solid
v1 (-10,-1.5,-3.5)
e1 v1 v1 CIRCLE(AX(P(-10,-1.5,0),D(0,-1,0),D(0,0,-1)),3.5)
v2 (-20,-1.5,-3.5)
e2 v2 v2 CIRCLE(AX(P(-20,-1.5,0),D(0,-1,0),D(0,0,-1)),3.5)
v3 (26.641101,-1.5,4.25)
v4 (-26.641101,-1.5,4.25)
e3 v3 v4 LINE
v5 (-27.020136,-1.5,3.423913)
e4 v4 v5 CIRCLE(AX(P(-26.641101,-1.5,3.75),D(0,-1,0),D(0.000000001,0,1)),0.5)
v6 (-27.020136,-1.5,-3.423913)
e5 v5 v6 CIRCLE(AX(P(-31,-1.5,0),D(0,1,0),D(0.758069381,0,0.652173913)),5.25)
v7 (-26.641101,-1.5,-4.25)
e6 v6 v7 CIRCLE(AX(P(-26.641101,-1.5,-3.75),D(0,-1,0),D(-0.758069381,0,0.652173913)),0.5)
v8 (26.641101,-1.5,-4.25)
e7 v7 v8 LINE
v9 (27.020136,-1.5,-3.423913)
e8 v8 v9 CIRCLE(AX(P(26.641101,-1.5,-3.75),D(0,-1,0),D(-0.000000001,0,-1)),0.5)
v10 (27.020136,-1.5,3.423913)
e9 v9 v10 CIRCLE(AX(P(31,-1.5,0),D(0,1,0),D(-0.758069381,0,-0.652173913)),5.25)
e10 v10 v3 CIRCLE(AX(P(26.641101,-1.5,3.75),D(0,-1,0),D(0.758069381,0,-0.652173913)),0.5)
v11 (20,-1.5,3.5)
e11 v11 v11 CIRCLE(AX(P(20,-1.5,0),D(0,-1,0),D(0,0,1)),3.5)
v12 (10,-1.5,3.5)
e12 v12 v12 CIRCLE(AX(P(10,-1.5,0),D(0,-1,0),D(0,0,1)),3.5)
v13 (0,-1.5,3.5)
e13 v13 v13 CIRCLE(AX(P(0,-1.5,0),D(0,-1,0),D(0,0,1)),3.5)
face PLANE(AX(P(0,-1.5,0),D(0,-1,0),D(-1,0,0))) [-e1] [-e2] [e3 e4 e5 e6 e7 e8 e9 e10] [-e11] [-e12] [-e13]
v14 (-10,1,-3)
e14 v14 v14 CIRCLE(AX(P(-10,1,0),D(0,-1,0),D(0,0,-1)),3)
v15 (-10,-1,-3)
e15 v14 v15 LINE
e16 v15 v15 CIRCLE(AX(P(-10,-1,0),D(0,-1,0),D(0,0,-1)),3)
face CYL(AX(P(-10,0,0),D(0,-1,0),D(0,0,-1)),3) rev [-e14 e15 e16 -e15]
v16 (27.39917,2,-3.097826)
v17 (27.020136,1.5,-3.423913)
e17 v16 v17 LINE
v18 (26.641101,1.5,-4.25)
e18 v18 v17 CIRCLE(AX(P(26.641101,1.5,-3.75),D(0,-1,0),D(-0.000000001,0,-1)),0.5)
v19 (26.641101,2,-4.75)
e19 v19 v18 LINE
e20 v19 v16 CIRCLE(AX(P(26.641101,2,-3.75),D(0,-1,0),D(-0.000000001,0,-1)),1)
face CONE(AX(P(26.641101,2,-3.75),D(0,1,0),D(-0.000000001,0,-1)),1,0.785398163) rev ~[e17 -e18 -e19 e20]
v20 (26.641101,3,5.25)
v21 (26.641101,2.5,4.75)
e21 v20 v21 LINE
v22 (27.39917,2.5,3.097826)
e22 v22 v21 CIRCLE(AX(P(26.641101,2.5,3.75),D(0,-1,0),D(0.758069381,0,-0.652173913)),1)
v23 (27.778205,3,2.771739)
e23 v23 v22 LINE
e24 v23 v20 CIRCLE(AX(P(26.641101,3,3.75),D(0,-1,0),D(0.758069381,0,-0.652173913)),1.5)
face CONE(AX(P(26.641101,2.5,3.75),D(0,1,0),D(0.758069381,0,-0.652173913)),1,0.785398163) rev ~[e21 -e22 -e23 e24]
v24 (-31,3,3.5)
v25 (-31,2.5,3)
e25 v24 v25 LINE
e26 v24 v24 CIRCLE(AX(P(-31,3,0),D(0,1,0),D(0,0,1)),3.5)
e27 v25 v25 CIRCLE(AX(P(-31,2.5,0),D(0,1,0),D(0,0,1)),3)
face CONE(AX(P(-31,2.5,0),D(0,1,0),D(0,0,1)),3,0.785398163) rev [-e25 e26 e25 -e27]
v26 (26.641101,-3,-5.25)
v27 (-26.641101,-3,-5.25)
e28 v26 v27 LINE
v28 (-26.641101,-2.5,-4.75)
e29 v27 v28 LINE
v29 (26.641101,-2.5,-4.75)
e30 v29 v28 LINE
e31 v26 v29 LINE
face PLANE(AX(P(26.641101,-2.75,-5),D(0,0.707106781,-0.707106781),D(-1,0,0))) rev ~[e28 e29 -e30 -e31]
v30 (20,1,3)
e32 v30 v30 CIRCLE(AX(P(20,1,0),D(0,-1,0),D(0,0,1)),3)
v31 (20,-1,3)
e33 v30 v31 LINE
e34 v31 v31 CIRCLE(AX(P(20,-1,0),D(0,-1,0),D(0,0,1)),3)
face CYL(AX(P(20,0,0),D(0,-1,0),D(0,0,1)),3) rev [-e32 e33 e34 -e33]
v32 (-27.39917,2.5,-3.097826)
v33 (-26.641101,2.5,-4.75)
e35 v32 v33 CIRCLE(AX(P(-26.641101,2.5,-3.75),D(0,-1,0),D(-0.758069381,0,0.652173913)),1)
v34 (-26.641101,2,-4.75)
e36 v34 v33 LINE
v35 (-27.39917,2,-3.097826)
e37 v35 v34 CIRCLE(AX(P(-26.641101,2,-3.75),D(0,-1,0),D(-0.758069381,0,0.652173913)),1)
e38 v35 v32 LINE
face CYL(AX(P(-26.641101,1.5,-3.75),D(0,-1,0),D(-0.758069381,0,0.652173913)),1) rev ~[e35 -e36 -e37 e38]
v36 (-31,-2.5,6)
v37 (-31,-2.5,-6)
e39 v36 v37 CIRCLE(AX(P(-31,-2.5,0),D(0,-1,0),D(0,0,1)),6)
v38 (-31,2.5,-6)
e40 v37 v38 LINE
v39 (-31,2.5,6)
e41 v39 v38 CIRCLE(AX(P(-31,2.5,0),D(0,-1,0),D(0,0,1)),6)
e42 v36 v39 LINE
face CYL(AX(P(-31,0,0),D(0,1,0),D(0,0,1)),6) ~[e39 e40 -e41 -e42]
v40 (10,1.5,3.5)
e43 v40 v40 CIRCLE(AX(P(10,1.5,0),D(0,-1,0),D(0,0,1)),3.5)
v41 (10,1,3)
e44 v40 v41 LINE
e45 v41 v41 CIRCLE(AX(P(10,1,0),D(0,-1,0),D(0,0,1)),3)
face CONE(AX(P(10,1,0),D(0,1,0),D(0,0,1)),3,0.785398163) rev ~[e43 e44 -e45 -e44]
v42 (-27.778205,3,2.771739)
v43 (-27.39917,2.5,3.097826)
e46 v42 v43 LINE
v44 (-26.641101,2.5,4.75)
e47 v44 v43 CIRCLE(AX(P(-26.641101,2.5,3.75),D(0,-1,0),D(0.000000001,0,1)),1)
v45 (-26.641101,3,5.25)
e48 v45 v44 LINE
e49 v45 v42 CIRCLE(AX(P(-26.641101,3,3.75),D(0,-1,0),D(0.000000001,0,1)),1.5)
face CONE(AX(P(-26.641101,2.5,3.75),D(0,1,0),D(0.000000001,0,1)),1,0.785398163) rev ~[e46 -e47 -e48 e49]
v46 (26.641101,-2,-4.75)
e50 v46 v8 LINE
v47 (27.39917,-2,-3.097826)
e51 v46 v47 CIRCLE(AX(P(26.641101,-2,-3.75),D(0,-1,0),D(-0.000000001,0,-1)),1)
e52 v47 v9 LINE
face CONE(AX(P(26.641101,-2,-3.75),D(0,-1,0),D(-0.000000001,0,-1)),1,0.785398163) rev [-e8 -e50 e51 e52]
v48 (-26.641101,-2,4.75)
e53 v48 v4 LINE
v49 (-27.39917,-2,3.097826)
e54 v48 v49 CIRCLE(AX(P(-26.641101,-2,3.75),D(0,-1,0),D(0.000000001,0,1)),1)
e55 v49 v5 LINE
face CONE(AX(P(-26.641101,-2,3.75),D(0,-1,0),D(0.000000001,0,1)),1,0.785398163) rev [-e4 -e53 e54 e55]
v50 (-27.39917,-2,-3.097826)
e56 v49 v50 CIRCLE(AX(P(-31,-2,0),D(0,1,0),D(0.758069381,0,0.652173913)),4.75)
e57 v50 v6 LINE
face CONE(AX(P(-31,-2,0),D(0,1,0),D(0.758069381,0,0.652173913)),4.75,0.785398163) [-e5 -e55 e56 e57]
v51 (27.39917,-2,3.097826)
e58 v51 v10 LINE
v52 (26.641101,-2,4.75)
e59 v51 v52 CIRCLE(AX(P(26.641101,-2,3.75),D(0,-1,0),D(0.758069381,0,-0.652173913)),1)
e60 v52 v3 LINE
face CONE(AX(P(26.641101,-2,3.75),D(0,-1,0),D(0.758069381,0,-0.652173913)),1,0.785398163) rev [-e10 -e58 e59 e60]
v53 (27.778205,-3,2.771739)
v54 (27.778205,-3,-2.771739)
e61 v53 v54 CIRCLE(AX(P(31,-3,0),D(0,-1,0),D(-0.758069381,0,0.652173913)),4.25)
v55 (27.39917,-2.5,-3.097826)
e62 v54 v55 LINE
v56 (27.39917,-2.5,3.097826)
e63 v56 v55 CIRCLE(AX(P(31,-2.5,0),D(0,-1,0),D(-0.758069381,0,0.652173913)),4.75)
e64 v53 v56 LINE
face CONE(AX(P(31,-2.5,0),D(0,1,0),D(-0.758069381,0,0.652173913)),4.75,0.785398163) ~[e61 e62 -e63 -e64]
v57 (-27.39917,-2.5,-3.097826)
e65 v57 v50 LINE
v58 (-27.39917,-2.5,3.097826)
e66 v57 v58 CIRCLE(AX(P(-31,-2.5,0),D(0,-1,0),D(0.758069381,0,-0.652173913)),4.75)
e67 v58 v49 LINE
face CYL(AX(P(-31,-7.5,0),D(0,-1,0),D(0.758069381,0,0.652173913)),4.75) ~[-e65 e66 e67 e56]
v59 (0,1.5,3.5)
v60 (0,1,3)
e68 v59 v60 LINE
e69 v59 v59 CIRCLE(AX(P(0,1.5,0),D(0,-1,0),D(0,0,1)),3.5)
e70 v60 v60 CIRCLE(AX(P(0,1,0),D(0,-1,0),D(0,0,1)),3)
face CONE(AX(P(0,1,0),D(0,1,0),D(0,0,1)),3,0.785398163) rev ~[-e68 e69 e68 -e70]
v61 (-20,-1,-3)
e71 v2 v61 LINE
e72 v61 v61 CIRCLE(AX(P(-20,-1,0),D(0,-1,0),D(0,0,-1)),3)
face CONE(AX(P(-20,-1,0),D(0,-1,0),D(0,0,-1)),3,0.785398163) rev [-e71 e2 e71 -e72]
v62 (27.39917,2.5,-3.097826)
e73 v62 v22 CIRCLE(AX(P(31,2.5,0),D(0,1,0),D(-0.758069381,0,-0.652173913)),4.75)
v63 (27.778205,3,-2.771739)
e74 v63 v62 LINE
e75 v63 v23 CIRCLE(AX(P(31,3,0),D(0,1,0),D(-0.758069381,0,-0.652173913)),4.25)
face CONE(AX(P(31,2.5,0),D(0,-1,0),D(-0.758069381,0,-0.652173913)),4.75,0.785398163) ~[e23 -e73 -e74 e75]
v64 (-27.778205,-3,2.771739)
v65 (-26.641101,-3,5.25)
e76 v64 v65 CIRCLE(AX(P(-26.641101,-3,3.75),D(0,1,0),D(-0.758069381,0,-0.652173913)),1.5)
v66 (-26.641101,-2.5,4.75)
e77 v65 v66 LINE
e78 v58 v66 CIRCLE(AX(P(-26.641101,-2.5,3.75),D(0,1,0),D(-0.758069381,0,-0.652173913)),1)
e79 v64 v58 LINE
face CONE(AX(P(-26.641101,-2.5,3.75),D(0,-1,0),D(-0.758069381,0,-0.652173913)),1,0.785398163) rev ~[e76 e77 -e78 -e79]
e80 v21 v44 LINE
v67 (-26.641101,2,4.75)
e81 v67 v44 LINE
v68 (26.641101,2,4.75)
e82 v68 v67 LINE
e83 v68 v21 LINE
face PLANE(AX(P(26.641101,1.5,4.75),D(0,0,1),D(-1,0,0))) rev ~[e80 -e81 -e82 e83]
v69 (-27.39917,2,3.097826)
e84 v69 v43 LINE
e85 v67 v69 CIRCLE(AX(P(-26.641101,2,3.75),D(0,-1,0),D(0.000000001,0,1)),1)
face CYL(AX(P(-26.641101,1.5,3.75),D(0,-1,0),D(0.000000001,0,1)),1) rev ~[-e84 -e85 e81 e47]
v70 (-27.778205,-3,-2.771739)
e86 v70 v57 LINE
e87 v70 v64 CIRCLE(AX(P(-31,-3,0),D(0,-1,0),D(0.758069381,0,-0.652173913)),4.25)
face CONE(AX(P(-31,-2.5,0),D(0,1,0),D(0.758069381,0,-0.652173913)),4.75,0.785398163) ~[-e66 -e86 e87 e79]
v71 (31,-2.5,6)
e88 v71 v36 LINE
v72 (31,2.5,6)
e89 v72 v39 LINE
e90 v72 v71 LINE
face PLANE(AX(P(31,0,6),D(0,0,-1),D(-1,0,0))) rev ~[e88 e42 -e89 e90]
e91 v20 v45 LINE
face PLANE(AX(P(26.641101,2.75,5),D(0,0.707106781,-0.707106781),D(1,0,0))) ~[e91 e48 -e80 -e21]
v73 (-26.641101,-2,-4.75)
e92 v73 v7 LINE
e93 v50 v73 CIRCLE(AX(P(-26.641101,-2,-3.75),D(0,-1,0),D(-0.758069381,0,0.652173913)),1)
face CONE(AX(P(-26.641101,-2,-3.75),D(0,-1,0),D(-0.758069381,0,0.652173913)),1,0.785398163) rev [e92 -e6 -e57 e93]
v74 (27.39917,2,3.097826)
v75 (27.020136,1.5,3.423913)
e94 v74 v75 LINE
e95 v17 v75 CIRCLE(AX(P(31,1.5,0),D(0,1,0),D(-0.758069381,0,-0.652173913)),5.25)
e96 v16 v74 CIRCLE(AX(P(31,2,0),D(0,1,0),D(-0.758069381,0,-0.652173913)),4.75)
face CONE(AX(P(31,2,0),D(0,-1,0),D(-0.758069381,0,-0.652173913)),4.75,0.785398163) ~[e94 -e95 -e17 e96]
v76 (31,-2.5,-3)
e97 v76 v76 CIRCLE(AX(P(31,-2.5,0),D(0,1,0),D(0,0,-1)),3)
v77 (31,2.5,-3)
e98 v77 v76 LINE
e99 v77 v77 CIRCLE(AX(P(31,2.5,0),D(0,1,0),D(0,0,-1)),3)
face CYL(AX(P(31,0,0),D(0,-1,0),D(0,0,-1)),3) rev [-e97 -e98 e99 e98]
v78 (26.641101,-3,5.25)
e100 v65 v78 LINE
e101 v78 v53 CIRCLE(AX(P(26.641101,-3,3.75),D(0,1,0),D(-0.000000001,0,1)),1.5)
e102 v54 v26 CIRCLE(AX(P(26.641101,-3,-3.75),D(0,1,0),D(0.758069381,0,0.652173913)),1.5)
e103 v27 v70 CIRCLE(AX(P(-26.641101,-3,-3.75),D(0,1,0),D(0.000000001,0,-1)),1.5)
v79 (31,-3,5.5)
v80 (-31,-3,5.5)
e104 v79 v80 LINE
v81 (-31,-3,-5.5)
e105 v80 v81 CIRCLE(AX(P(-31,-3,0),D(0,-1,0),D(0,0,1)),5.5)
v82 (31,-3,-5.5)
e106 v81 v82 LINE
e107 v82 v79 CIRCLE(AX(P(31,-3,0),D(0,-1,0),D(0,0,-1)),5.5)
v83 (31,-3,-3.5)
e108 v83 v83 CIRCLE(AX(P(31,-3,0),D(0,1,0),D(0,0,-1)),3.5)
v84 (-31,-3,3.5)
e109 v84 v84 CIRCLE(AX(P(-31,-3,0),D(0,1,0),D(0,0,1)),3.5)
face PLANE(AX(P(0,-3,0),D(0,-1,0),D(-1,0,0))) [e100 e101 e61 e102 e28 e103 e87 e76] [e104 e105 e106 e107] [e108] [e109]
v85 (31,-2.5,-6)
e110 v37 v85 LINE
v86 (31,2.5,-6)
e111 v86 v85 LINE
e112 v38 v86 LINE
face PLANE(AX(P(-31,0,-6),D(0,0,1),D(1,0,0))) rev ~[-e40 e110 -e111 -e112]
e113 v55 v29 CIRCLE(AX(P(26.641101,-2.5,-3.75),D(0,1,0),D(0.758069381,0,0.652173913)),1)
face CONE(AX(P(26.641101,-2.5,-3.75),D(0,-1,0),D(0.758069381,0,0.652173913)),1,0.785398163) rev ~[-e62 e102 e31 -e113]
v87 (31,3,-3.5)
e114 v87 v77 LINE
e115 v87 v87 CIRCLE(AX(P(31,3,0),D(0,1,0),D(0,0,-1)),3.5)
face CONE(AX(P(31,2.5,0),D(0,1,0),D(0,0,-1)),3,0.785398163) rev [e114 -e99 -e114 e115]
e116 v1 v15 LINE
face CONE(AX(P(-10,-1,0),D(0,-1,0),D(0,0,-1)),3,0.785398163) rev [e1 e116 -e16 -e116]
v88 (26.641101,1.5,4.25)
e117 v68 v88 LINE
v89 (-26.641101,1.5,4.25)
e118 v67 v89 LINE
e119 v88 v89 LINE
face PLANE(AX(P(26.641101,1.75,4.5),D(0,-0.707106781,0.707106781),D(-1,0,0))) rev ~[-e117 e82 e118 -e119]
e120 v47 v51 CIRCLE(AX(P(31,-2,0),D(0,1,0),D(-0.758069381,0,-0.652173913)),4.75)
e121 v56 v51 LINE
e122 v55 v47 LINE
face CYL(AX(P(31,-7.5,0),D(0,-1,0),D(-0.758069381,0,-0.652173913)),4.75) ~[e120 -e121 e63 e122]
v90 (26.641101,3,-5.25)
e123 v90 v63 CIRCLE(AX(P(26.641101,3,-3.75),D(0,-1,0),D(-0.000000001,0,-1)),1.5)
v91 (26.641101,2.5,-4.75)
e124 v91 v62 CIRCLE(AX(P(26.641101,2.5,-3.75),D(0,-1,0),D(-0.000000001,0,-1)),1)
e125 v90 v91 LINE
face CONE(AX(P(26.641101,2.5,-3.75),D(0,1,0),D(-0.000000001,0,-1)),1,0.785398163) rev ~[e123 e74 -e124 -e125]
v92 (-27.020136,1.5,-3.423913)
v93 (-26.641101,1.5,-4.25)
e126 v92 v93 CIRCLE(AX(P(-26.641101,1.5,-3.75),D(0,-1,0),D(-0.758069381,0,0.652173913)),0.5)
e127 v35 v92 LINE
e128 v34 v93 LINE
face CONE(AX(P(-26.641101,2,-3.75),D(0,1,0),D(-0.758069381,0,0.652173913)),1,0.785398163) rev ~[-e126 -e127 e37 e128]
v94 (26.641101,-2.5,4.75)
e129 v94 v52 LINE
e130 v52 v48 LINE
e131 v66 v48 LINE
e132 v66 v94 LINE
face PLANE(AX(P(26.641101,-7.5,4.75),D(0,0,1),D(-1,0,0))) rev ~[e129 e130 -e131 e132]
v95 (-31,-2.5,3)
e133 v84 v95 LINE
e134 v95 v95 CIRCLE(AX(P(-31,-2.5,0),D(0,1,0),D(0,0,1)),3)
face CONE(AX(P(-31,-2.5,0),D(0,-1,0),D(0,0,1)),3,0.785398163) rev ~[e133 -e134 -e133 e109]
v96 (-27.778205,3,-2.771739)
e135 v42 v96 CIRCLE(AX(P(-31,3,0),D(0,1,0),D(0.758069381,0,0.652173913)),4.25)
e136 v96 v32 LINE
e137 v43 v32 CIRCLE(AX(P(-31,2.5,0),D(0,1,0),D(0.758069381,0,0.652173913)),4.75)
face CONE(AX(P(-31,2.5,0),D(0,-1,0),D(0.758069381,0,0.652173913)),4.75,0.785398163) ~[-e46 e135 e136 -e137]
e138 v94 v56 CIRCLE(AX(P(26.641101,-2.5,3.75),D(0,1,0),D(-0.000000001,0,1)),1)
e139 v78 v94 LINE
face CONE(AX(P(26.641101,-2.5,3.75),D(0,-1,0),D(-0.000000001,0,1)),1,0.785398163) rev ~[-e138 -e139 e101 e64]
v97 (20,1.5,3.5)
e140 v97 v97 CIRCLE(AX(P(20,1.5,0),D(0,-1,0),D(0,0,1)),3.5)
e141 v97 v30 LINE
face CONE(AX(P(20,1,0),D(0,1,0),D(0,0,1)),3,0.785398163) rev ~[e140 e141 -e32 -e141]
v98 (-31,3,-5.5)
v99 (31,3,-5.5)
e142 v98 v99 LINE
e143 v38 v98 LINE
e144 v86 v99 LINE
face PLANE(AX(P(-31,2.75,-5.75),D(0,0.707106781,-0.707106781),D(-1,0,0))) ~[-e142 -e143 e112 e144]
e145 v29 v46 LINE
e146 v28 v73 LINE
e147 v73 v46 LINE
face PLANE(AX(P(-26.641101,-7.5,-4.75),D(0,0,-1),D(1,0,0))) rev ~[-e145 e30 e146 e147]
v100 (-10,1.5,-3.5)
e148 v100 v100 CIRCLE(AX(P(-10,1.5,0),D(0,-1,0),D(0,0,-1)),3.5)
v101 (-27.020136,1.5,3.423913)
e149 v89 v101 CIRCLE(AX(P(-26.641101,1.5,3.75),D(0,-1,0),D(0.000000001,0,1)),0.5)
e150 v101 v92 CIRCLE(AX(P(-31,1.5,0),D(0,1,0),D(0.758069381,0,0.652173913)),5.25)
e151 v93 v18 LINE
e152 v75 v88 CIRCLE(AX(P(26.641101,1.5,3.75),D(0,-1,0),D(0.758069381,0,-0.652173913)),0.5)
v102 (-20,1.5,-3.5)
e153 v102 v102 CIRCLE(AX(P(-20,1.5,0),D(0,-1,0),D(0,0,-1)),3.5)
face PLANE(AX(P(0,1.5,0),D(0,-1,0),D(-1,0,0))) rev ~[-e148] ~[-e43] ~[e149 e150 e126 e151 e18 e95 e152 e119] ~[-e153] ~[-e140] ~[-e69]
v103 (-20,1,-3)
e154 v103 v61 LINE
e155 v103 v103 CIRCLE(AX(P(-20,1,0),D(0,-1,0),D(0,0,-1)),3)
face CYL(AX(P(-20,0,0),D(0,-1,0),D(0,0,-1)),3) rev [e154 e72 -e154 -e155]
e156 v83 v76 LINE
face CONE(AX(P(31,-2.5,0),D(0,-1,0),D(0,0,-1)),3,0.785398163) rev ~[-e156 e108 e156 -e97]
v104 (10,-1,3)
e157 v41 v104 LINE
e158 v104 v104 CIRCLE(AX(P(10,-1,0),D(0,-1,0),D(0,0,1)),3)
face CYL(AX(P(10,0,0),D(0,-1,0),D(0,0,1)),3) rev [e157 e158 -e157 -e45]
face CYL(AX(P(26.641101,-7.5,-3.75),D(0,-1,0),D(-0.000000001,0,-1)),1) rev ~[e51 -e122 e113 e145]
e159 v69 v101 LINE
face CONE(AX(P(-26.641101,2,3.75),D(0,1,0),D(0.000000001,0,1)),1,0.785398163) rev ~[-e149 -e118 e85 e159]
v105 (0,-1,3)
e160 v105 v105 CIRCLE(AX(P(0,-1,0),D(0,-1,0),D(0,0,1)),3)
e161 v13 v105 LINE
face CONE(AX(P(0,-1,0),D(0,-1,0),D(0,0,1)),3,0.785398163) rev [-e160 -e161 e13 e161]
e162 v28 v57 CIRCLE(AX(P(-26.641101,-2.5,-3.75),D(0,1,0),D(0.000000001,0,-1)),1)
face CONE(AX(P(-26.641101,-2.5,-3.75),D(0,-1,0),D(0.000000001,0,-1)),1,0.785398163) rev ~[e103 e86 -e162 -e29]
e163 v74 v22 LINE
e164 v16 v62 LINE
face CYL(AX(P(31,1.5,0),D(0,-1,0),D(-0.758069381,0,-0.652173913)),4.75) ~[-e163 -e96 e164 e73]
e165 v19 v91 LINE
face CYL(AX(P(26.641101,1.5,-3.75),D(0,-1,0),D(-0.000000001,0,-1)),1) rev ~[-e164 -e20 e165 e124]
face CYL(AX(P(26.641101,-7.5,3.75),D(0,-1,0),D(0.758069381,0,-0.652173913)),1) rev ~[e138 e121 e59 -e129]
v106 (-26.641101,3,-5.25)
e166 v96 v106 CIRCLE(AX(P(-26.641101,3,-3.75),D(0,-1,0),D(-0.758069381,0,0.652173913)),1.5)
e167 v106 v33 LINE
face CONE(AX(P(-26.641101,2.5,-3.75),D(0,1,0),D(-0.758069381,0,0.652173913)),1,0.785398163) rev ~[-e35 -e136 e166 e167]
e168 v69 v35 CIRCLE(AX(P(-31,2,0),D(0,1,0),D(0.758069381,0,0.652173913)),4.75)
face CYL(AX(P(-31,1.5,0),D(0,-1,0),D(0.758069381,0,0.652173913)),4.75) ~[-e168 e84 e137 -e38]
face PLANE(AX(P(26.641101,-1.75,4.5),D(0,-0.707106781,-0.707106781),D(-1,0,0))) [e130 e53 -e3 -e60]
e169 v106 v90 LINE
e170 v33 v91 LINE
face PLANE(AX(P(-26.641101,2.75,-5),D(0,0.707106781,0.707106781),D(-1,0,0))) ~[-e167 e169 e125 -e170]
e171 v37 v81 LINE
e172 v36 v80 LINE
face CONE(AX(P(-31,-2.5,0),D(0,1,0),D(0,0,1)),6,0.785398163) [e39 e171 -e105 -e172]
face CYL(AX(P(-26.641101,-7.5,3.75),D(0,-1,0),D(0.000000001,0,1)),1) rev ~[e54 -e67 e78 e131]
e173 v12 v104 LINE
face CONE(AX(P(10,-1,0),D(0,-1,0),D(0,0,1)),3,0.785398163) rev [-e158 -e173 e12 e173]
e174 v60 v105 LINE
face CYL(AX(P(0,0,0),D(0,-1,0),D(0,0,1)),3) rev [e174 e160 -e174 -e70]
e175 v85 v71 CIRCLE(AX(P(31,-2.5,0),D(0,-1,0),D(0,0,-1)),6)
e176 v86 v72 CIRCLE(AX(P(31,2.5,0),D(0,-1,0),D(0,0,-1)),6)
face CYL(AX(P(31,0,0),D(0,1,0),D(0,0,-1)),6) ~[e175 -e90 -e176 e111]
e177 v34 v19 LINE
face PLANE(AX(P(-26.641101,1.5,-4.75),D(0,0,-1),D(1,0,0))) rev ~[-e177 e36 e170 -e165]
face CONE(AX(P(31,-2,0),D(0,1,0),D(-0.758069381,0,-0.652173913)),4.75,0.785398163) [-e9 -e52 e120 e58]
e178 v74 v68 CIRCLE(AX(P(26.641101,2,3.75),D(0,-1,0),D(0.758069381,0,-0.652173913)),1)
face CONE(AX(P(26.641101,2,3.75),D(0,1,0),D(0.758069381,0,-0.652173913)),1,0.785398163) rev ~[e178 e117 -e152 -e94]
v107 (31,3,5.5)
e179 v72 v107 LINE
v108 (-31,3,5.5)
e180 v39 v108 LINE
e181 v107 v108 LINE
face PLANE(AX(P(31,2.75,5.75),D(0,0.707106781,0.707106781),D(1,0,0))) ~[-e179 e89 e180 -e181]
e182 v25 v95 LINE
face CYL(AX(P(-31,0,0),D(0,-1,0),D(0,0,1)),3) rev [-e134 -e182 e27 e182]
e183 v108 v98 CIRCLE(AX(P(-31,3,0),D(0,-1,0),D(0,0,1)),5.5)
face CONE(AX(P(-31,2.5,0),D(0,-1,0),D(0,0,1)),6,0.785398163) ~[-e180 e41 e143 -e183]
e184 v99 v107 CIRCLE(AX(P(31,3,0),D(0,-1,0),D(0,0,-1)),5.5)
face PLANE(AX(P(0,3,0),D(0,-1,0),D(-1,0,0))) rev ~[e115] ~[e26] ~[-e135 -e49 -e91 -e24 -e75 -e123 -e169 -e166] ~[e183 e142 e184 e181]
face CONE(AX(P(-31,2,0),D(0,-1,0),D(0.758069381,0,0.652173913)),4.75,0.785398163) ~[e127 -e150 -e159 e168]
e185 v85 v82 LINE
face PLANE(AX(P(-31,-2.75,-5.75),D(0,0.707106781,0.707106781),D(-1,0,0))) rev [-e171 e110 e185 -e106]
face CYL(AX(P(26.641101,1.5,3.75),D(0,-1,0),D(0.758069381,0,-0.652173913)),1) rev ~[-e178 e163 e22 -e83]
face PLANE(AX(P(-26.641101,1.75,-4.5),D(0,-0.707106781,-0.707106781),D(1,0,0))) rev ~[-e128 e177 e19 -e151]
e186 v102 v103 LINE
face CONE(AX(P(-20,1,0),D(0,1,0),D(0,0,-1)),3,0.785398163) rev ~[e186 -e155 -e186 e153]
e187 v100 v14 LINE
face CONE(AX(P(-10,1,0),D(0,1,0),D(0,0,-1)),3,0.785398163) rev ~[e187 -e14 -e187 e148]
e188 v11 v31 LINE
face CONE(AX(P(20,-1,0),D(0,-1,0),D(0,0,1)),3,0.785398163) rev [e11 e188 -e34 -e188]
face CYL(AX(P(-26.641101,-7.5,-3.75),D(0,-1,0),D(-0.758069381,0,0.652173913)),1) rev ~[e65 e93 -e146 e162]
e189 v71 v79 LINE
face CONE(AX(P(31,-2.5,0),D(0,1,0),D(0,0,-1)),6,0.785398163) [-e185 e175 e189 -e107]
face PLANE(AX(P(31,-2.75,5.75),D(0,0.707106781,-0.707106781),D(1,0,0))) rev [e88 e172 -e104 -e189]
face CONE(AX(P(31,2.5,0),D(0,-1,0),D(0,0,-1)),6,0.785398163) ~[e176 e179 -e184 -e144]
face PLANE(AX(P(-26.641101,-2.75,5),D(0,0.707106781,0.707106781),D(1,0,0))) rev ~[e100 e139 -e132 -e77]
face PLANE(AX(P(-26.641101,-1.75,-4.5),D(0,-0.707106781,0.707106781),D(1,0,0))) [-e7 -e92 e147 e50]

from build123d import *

# Parameters (mm, degrees)
SKETCH1_R           = 3
BOSS_EXTRUDE1_DEPTH = 3
CUT_EXTRUDE1_START  = 1.5
CUT_EXTRUDE1_DEPTH  = 6
CUT_EXTRUDE2_START  = -7.5
CUT_EXTRUDE2_DEPTH  = 6
CHAMFER1_SIZE       = 0.5


with BuildPart() as part:
    # Sketch1 → Boss-Extrude1 (new, symmetric)
    with BuildSketch(Plane(origin=(0, 0, 0), x_dir=(1, 0, 0), z_dir=(0, 1, 0))):
        with BuildLine():
            Line((-31, 6), (31, 6))
            ThreePointArc((31, 6), (37, 0), (31, -6))
            Line((31, -6), (-31, -6))
            ThreePointArc((-31, -6), (-37, 0), (-31, 6))
        make_face()
        with Locations((-31, 0)):
            Circle(SKETCH1_R, mode=Mode.SUBTRACT)
        with Locations((31, 0)):
            Circle(SKETCH1_R, mode=Mode.SUBTRACT)
        Circle(SKETCH1_R, mode=Mode.SUBTRACT)
        with Locations((10, 0)):
            Circle(SKETCH1_R, mode=Mode.SUBTRACT)
        with Locations((20, 0)):
            Circle(SKETCH1_R, mode=Mode.SUBTRACT)
        with Locations((-20, 0)):
            Circle(SKETCH1_R, mode=Mode.SUBTRACT)
        with Locations((-10, 0)):
            Circle(SKETCH1_R, mode=Mode.SUBTRACT)
    extrude(amount=BOSS_EXTRUDE1_DEPTH, both=True)

    # Sketch2 → Cut-Extrude1 (cut)
    with BuildSketch(Plane(origin=(0, 0, 0), x_dir=(1, 0, 0), z_dir=(0, 1, 0)).offset(CUT_EXTRUDE1_START)):
        with BuildLine():
            Line((-26.641101056, 4.75), (26.641101056, 4.75))
            ThreePointArc((26.641101056, 4.75), (27.549994316, 4.167028828), (27.399170438, 3.097826087))
            ThreePointArc((27.399170438, 3.097826087), (26.25, 0), (27.399170438, -3.097826087))
            ThreePointArc((27.399170438, -3.097826087), (27.549994316, -4.167028828), (26.641101056, -4.75))
            Line((26.641101056, -4.75), (-26.641101056, -4.75))
            ThreePointArc((-26.641101056, -4.75), (-27.549994316, -4.167028828), (-27.399170438, -3.097826087))
            ThreePointArc((-27.399170438, -3.097826087), (-26.25, 0), (-27.399170438, 3.097826087))
            ThreePointArc((-27.399170438, 3.097826087), (-27.549994316, 4.167028828), (-26.641101056, 4.75))
        make_face()
    extrude(amount=CUT_EXTRUDE1_DEPTH, mode=Mode.SUBTRACT)

    # Sketch2<2> → Cut-Extrude2 (cut)
    with BuildSketch(Plane(origin=(0, 0, 0), x_dir=(1, 0, 0), z_dir=(0, 1, 0)).offset(CUT_EXTRUDE2_START)):
        with BuildLine():
            Line((-26.641101056, 4.75), (26.641101056, 4.75))
            ThreePointArc((26.641101056, 4.75), (27.549994316, 4.167028828), (27.399170438, 3.097826087))
            ThreePointArc((27.399170438, 3.097826087), (26.25, 0), (27.399170438, -3.097826087))
            ThreePointArc((27.399170438, -3.097826087), (27.549994316, -4.167028828), (26.641101056, -4.75))
            Line((26.641101056, -4.75), (-26.641101056, -4.75))
            ThreePointArc((-26.641101056, -4.75), (-27.549994316, -4.167028828), (-27.399170438, -3.097826087))
            ThreePointArc((-27.399170438, -3.097826087), (-26.25, 0), (-27.399170438, 3.097826087))
            ThreePointArc((-27.399170438, 3.097826087), (-27.549994316, 4.167028828), (-26.641101056, 4.75))
        make_face()
    extrude(amount=CUT_EXTRUDE2_DEPTH, mode=Mode.SUBTRACT)

    # Chamfer1
    chamfer1_edges = [part.edges().sort_by_distance(p)[0] for p in [
        (-26.25, -1.5, 0),
        (-27.549994316, -1.5, 4.167028828),
        (0, -1.5, 4.75),
        (27.549994316, -1.5, 4.167028828),
        (26.25, -1.5, 0),
        (27.549994316, -1.5, -4.167028828),
        (0, -1.5, -4.75),
        (-27.549994316, -1.5, -4.167028828),
        (-13, -1.5, 0),
        (-23, -1.5, 0),
        (17, -1.5, 0),
        (7, -1.5, 0),
        (-3, -1.5, 0),
        (0, 1.5, -4.75),
        (27.549994316, 1.5, -4.167028828),
        (26.25, 1.5, 0),
        (27.549994316, 1.5, 4.167028828),
        (0, 1.5, 4.75),
        (-27.549994316, 1.5, 4.167028828),
        (-26.25, 1.5, 0),
        (-27.549994316, 1.5, -4.167028828),
        (-13, 1.5, 0),
        (-23, 1.5, 0),
        (17, 1.5, 0),
        (7, 1.5, 0),
        (-3, 1.5, 0),
        (27.549994316, -3, -4.167028828),
        (26.25, -3, 0),
        (27.549994316, -3, 4.167028828),
        (0, -3, 4.75),
        (-27.549994316, -3, 4.167028828),
        (-26.25, -3, 0),
        (-27.549994316, -3, -4.167028828),
        (0, -3, -4.75),
        (0, -3, 6),
        (37, -3, 0),
        (0, -3, -6),
        (-37, -3, 0),
        (-34, -3, 0),
        (28, -3, 0),
        (-27.549994316, 3, 4.167028828),
        (0, 3, 4.75),
        (27.549994316, 3, 4.167028828),
        (26.25, 3, 0),
        (27.549994316, 3, -4.167028828),
        (0, 3, -4.75),
        (-27.549994316, 3, -4.167028828),
        (-26.25, 3, 0),
        (28, 3, 0),
        (0, 3, -6),
        (37, 3, 0),
        (0, 3, 6),
        (-37, 3, 0),
        (-34, 3, 0),
    ]]
    chamfer(chamfer1_edges, length=CHAMFER1_SIZE)


solid = part.part
